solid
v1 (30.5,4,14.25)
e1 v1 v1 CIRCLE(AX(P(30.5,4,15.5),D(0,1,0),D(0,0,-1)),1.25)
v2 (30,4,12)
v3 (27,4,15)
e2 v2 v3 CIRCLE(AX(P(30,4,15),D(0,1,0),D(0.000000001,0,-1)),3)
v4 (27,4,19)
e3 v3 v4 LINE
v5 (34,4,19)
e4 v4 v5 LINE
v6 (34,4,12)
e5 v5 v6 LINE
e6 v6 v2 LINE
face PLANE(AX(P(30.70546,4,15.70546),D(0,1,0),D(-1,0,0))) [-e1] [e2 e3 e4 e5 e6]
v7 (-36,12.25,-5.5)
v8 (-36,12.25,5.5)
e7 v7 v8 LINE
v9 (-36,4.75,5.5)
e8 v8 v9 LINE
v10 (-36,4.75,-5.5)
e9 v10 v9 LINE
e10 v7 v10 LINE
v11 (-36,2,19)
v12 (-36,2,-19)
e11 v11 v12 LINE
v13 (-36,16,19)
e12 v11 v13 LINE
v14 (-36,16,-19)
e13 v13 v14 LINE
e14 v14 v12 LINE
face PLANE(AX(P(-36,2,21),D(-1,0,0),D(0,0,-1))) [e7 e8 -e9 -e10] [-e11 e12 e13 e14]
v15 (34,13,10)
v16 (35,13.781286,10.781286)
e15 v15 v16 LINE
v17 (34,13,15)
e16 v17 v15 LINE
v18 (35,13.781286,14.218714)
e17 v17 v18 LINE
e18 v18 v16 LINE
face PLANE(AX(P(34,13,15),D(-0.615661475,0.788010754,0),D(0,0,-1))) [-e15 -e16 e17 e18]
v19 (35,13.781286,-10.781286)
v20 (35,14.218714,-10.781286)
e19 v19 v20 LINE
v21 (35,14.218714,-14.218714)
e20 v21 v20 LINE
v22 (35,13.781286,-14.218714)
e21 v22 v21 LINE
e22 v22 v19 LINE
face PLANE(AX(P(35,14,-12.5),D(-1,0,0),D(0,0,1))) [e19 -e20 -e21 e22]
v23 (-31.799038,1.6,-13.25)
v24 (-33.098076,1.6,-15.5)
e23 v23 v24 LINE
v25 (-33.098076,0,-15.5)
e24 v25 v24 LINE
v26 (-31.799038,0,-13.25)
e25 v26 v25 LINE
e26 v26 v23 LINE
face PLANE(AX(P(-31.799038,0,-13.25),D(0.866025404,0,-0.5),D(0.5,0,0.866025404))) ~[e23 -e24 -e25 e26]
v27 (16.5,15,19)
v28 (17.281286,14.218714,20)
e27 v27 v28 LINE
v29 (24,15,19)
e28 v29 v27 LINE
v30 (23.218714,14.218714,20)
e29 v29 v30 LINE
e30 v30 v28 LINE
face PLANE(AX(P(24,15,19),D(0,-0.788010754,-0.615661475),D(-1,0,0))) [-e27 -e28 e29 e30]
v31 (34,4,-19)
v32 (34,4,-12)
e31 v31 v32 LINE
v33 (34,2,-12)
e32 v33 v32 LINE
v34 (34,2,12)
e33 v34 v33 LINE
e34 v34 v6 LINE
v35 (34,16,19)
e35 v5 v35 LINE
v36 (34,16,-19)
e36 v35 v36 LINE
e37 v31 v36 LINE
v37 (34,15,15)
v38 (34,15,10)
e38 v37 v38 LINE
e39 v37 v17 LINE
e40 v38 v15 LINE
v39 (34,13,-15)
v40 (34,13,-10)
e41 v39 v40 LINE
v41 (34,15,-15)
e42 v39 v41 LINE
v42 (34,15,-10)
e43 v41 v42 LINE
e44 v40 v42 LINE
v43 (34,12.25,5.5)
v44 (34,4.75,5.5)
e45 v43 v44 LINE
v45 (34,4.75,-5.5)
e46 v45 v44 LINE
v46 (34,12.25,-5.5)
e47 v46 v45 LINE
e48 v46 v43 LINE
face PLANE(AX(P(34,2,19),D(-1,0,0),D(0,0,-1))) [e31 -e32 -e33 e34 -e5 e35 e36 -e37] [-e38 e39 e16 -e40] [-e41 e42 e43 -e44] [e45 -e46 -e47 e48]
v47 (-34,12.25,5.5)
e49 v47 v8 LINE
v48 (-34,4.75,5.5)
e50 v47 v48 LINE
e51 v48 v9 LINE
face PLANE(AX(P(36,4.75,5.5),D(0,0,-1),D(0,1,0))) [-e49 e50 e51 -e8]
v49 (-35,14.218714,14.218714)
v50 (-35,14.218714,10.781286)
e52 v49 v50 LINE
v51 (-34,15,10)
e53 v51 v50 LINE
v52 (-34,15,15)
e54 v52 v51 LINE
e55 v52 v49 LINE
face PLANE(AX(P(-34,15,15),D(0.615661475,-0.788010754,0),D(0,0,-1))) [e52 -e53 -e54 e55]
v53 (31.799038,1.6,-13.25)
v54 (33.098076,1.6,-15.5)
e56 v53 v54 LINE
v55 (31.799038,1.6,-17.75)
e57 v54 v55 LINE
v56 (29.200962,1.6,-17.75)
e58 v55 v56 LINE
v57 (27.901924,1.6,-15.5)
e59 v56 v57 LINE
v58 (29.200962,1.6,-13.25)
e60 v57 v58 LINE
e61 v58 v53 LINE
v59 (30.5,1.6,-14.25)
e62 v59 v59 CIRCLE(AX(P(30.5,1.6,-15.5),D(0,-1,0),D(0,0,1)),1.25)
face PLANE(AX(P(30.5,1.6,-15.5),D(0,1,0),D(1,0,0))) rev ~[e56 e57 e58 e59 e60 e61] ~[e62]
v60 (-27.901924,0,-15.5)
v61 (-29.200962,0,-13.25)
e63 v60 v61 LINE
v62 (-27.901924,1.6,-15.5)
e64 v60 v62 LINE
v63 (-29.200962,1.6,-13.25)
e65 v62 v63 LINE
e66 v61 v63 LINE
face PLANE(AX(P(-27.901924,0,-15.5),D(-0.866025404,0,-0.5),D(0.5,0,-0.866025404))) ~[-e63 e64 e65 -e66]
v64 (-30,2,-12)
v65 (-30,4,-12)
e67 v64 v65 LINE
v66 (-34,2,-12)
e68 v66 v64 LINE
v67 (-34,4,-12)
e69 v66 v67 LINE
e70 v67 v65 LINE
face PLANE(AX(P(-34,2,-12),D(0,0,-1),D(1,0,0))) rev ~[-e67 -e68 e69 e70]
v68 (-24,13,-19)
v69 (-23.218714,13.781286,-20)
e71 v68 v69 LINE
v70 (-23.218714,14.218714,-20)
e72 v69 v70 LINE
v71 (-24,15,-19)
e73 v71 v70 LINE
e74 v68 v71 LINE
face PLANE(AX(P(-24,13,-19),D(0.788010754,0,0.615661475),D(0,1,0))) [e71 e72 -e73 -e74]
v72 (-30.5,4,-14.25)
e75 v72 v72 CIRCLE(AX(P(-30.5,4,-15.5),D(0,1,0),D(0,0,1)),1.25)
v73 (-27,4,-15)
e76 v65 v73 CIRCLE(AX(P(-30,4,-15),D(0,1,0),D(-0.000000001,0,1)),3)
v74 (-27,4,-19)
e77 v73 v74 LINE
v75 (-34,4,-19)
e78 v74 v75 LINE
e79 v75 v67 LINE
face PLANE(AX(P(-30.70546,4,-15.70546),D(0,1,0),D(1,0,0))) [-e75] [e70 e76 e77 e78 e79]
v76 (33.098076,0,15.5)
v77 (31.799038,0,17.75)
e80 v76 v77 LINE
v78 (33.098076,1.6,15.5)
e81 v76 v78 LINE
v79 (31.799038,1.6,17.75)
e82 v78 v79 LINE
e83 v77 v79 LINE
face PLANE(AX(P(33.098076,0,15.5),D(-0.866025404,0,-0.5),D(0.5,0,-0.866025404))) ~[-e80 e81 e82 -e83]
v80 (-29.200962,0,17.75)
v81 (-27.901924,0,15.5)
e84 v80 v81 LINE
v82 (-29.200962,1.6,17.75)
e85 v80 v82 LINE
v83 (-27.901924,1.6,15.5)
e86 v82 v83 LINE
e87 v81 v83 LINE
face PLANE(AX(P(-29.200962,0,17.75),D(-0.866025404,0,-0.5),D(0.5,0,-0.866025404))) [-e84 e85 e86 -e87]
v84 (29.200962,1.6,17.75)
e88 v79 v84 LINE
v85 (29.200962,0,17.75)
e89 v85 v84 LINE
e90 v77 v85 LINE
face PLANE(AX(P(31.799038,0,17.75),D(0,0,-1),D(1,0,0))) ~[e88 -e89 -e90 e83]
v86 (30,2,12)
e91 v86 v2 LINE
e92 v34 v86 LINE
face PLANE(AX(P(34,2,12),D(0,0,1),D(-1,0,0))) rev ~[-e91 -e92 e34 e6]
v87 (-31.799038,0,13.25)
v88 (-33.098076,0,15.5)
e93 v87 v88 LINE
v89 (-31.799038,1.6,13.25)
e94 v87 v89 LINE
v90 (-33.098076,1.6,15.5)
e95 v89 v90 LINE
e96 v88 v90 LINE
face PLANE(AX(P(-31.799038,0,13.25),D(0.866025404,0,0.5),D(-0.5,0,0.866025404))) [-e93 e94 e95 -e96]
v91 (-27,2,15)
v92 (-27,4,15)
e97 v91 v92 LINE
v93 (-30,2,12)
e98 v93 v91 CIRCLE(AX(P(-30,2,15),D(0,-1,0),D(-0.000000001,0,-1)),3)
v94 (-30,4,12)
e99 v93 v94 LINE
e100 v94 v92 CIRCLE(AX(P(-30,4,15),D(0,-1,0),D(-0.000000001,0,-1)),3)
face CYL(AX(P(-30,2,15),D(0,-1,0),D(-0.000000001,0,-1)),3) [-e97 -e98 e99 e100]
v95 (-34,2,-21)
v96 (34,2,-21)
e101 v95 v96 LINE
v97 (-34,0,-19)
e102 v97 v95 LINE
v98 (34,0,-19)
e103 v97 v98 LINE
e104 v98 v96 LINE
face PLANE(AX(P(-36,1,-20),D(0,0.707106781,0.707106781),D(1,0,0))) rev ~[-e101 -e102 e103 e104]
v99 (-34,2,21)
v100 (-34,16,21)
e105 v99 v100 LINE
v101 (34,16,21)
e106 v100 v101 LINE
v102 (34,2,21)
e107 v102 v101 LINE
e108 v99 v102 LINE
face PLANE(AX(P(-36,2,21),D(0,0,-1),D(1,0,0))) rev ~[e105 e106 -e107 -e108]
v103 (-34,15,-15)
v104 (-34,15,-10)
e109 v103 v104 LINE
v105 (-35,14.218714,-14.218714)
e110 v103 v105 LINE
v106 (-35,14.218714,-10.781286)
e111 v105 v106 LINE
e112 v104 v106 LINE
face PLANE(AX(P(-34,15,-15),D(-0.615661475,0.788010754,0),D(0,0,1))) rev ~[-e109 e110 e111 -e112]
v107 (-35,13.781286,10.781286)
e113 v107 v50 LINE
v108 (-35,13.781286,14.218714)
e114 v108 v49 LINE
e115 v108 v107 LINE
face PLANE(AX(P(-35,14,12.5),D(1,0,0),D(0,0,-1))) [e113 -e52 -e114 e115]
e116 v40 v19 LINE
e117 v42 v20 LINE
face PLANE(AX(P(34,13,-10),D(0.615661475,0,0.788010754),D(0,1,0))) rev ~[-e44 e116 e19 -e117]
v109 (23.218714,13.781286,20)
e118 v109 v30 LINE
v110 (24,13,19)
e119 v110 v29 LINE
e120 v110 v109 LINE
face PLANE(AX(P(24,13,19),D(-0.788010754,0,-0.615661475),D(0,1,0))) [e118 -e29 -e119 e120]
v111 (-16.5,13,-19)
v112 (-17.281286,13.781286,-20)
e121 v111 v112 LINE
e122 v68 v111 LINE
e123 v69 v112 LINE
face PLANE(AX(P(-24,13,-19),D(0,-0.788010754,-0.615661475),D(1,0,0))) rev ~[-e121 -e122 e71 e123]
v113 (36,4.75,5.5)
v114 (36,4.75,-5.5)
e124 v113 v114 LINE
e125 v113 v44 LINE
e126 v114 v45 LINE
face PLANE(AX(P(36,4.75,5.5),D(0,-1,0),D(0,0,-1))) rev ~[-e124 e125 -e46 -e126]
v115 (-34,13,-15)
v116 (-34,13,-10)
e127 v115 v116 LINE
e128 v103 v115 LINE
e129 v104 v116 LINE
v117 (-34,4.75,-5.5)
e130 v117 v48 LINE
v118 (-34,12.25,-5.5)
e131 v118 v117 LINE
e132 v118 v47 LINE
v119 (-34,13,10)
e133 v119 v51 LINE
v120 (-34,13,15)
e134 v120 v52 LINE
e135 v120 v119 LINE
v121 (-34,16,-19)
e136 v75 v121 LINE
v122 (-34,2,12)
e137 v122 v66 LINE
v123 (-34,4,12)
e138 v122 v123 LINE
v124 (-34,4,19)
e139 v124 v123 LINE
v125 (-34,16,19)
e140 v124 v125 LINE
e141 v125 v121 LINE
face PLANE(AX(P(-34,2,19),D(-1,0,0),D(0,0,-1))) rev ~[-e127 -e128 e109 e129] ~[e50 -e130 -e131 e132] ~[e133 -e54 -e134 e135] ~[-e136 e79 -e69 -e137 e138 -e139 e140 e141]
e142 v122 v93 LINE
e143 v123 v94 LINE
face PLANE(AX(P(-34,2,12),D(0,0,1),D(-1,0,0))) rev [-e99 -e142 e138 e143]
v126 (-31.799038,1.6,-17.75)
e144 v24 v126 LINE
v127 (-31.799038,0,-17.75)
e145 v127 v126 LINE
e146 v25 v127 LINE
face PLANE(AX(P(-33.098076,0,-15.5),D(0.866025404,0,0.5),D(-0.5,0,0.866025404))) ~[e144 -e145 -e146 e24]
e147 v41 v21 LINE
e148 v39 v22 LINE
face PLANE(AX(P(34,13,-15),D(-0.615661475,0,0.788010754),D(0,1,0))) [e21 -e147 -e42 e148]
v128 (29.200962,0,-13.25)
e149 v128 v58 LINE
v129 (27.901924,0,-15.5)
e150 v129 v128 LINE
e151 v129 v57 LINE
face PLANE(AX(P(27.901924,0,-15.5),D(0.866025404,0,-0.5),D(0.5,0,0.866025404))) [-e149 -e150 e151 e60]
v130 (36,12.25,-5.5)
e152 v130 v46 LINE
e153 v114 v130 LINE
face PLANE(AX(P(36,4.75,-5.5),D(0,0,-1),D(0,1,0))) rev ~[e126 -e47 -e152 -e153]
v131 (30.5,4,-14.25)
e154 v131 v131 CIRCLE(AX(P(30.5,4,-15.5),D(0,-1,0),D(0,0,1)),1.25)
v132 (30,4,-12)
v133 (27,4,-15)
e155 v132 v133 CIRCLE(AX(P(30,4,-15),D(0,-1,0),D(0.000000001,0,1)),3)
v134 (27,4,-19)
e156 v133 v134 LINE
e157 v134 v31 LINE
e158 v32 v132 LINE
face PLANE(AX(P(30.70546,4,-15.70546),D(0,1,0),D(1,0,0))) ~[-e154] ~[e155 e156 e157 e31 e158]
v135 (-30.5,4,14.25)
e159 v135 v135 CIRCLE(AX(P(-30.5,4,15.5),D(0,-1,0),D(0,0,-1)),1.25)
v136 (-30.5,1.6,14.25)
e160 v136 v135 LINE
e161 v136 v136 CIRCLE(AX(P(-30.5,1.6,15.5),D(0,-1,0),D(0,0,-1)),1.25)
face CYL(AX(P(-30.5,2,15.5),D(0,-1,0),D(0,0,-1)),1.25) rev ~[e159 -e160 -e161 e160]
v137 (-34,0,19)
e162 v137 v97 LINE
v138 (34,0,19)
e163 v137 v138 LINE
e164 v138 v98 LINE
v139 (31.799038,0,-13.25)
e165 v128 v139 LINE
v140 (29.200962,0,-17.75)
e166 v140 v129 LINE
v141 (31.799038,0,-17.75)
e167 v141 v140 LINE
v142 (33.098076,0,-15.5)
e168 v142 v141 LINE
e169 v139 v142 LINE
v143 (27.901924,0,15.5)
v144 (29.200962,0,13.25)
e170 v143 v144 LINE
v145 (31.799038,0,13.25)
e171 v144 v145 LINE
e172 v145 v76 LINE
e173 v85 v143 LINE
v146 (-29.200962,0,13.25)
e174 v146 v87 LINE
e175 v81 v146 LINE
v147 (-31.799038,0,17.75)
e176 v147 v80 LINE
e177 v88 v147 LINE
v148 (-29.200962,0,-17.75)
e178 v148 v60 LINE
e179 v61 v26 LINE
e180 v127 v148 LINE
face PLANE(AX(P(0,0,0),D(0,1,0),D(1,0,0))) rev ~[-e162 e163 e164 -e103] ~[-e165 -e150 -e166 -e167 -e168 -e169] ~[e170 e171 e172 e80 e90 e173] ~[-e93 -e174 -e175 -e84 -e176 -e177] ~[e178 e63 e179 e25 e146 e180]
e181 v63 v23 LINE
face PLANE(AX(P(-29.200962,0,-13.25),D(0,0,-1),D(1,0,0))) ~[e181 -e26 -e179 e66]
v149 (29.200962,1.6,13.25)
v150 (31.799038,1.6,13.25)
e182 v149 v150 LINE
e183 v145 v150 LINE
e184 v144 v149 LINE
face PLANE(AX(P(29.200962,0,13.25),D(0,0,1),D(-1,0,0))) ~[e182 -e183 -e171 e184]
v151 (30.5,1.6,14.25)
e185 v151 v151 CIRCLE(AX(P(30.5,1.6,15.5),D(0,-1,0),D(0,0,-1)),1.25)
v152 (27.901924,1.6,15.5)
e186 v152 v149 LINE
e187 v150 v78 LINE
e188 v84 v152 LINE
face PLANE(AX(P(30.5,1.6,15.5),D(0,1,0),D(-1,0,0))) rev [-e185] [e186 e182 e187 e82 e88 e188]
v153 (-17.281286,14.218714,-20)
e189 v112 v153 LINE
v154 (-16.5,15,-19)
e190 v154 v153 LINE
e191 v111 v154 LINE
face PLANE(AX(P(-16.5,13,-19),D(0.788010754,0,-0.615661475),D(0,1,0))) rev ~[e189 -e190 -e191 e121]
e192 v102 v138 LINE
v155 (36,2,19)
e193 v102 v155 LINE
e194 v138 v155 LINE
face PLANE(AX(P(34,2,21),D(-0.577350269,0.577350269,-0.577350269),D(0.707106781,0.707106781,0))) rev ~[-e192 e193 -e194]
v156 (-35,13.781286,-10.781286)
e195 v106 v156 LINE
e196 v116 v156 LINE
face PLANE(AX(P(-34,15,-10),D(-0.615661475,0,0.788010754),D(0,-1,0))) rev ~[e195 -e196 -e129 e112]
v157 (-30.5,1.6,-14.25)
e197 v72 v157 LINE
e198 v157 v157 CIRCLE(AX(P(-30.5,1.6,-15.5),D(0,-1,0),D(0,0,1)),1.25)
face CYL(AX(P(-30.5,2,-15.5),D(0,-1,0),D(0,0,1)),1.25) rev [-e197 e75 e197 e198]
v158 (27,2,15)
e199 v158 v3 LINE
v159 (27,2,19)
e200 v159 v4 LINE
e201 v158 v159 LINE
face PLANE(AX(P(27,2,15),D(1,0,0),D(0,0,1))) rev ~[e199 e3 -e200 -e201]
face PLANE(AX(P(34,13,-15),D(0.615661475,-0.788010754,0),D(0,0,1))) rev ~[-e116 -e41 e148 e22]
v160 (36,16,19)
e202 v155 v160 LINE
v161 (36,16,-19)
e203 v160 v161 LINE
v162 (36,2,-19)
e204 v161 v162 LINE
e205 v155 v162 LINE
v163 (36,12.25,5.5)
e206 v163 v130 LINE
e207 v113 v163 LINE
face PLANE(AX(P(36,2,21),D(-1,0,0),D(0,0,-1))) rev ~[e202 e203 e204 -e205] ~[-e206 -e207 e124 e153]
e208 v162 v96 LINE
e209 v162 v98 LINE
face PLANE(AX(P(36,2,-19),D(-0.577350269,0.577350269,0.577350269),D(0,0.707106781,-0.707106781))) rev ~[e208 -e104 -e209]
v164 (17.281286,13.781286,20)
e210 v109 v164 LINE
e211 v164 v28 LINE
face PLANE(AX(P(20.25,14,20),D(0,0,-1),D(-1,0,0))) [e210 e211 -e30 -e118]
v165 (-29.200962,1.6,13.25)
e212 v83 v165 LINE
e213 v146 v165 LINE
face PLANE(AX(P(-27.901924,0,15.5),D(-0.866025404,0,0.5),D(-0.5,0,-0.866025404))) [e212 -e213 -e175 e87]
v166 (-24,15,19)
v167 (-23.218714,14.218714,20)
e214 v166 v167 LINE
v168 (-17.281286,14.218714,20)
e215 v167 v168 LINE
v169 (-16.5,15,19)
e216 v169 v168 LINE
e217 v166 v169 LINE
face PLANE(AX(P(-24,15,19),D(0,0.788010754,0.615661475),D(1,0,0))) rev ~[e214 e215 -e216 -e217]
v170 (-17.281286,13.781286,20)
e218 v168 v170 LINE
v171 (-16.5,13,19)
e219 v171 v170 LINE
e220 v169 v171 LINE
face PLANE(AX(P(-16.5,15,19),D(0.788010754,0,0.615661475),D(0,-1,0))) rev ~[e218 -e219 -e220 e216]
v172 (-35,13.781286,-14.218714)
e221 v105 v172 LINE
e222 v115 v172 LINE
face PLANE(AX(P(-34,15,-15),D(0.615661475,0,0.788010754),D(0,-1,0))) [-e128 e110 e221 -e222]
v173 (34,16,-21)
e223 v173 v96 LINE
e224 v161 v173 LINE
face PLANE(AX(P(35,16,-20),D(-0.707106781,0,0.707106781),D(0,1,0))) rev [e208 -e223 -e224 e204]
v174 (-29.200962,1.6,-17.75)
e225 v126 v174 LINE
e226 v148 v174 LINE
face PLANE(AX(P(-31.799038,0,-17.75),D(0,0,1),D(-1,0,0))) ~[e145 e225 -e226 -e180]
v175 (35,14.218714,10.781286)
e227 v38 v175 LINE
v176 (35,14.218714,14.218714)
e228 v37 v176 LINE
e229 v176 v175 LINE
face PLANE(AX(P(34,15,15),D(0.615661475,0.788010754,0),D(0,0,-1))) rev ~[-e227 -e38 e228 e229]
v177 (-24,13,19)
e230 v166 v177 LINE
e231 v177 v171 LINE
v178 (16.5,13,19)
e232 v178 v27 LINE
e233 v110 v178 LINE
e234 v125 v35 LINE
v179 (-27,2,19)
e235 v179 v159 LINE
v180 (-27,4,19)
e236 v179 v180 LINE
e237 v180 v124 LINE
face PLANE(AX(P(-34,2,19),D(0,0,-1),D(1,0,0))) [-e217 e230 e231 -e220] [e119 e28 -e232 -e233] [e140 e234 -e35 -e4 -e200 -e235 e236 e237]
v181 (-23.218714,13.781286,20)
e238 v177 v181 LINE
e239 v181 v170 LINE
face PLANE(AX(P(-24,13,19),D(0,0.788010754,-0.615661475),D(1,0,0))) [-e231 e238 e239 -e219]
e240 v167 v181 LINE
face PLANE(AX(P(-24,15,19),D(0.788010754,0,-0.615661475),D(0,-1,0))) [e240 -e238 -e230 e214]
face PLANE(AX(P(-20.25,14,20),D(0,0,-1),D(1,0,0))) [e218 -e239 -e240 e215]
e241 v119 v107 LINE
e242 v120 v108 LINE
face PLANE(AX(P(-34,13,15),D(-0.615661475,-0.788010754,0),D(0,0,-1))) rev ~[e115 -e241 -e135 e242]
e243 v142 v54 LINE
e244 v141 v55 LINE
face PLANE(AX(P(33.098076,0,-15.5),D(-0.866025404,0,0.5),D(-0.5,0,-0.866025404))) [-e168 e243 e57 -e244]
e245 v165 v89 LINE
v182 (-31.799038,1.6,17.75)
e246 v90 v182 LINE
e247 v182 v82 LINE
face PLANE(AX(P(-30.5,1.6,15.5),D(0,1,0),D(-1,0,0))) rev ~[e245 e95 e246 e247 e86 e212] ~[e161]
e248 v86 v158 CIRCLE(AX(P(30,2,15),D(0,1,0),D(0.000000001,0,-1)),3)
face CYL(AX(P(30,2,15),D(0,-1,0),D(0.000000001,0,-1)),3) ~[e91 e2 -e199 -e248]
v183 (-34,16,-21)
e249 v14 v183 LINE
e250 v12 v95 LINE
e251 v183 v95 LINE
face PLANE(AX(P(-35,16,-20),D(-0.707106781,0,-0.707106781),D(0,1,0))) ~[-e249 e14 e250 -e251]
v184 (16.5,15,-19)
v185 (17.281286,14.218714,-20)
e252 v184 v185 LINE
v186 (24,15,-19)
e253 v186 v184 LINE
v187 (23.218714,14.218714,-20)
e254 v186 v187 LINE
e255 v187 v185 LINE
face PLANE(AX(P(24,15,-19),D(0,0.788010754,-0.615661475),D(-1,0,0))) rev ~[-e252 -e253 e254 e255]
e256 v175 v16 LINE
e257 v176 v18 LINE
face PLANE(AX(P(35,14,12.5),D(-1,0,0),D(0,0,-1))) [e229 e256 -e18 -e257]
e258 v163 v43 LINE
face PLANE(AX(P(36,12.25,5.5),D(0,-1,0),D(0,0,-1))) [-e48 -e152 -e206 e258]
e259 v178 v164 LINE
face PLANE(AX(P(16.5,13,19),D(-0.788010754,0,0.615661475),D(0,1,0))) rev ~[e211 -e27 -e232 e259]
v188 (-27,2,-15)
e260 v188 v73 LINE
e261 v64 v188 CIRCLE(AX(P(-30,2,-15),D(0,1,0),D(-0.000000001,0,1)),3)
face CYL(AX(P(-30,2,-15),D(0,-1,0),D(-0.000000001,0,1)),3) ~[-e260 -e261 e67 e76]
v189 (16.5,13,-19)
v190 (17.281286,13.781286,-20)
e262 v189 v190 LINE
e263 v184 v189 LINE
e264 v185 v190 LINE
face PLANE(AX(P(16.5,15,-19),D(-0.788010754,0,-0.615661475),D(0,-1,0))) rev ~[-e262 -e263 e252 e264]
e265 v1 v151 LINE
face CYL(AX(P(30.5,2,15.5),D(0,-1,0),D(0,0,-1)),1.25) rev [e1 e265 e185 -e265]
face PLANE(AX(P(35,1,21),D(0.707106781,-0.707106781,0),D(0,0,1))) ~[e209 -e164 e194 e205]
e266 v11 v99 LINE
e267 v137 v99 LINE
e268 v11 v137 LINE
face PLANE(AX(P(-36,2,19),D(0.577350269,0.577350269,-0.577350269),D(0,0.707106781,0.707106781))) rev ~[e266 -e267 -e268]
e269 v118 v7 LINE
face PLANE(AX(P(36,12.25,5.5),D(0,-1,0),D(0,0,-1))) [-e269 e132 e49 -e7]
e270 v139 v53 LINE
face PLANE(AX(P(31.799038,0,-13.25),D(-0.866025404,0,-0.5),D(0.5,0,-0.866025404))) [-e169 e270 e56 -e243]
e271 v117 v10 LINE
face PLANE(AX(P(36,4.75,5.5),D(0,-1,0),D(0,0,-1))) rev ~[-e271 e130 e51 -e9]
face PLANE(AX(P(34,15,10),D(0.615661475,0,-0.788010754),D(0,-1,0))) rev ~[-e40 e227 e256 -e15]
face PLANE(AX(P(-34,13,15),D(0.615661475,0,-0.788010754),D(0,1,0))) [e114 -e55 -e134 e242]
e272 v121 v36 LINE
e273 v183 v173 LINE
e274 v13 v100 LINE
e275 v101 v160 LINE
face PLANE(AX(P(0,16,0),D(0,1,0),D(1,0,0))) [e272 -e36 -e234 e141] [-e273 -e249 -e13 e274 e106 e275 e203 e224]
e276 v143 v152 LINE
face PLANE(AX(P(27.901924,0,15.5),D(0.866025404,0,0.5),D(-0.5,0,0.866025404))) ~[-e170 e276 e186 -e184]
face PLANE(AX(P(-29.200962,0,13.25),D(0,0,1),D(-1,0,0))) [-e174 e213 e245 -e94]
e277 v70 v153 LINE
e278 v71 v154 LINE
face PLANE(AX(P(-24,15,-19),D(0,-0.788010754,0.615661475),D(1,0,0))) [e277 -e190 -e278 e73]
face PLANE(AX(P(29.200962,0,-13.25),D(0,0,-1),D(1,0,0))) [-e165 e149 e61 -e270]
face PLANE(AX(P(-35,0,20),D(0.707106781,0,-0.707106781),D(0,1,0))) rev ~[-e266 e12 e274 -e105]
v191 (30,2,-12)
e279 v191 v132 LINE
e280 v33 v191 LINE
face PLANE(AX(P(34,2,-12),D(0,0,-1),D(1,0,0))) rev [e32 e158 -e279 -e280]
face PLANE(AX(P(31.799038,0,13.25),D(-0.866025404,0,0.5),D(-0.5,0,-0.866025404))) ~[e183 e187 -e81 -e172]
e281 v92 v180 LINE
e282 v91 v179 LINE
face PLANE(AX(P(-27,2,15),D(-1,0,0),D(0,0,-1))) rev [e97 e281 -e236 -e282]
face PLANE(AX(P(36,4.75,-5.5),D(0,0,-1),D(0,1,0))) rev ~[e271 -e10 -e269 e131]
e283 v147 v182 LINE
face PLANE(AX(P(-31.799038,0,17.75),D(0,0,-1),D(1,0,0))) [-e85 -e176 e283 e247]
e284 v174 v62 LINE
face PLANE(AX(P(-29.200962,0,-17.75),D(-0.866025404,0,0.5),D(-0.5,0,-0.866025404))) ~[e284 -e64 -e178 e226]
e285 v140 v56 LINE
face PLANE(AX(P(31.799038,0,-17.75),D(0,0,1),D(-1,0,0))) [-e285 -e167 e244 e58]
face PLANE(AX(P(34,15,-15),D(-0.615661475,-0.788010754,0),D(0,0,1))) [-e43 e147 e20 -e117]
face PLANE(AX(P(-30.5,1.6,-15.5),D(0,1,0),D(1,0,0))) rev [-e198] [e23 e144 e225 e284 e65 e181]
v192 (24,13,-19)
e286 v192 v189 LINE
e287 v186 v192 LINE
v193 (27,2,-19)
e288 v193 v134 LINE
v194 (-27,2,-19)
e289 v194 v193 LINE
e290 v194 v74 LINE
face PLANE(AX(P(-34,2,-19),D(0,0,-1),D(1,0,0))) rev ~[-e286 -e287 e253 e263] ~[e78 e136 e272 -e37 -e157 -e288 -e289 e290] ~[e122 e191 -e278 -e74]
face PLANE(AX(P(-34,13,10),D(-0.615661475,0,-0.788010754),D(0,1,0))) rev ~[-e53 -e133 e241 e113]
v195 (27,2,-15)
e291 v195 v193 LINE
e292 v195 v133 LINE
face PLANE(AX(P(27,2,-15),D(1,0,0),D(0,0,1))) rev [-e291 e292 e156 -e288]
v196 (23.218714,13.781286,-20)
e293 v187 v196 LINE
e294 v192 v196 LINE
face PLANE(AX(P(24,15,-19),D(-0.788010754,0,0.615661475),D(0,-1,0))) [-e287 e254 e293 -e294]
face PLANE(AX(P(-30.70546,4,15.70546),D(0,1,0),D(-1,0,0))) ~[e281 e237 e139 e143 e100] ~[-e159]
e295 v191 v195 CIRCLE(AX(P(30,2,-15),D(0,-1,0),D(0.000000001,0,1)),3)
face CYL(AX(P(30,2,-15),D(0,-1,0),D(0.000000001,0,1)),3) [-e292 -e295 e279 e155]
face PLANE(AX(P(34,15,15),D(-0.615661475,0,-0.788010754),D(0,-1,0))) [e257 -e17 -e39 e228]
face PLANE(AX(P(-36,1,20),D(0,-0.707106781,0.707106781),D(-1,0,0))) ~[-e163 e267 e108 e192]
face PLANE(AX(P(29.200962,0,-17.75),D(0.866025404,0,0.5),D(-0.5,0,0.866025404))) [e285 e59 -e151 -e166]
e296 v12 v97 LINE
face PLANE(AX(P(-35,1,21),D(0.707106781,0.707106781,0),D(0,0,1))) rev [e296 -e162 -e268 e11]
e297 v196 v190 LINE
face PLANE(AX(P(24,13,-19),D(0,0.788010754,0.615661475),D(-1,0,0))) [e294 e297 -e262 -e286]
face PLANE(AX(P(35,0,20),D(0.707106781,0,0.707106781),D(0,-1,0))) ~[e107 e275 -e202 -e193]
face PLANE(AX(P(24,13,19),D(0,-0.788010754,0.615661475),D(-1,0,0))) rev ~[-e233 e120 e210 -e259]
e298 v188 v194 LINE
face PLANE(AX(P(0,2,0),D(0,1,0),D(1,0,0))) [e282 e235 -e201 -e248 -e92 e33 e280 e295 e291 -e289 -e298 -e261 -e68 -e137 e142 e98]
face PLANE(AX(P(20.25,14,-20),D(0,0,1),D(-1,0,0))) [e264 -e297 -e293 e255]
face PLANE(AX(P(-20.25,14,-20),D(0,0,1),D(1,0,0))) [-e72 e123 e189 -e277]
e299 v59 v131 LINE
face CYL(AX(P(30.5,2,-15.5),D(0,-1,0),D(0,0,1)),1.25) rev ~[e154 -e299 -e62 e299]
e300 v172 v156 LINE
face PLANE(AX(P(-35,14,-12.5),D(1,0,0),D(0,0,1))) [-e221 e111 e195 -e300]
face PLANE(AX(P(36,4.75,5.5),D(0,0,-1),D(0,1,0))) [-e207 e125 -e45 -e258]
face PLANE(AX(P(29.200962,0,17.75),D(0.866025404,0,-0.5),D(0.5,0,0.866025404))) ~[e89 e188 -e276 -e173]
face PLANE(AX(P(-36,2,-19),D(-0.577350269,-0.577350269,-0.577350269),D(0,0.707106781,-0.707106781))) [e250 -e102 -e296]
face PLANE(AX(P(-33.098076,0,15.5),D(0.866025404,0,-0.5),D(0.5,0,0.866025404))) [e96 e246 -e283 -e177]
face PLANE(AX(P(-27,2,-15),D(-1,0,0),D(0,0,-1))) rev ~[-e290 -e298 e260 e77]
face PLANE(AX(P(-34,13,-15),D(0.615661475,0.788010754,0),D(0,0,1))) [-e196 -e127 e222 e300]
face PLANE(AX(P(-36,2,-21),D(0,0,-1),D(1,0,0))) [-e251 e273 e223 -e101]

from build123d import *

# Parameters (mm, degrees)
SKETCH1_W               = 72
SKETCH1_H               = 42
SKETCH1_W_2             = 68
SKETCH1_H_2             = 38
BOSS_EXTRUDE1_DEPTH     = 2
BOSS_EXTRUDE2_START     = 2
SKETCH1_3_W             = 72
SKETCH1_3_H             = 42
SKETCH1_3_W_2           = 68
SKETCH1_3_H_2           = 38
BOSS_EXTRUDE2_DEPTH     = 14
CHAMFER1_SIZE           = 2
SKETCH2_R               = 1.25
BOSS_EXTRUDE3_DEPTH     = 2
MIRROR2_COPY_1_SKETCH_R = 1.25
MIRROR2_COPY_1_DEPTH    = 2
CUT_EXTRUDE1_DEPTH      = 1.6
MIRROR4_COPY_1_DEPTH    = 1.6
CUT_EXTRUDE2_DEPTH      = 44.965895874
CUT_EXTRUDE2_DEPTH_BACK = 44.965895874
SKETCH4_R               = 1.25
SKETCH5_W               = 7.5
SKETCH5_H               = 2
CUT_EXTRUDE3_DEPTH      = 1
CUT_EXTRUDE3_DRAFT      = -38
MIRROR5_COPY_1_SKETCH_W = 7.5
MIRROR5_COPY_1_SKETCH_H = 2
MIRROR5_COPY_1_DEPTH    = 1
MIRROR5_COPY_1_DRAFT    = -38
MIRROR8_COPY_1_SKETCH_W = 7.5
MIRROR8_COPY_1_SKETCH_H = 2
MIRROR8_COPY_1_DEPTH    = 1
MIRROR8_COPY_1_DRAFT    = -38
MIRROR8_COPY_2_SKETCH_W = 7.5
MIRROR8_COPY_2_SKETCH_H = 2
MIRROR8_COPY_2_DEPTH    = 1
MIRROR8_COPY_2_DRAFT    = -38
SKETCH6_W               = 5
SKETCH6_H               = 2
CUT_EXTRUDE4_DEPTH      = 1
CUT_EXTRUDE4_DRAFT      = -38
MIRROR6_COPY_1_SKETCH_W = 5
MIRROR6_COPY_1_SKETCH_H = 2
MIRROR6_COPY_1_DEPTH    = 1
MIRROR6_COPY_1_DRAFT    = -38
MIRROR7_COPY_1_SKETCH_W = 5
MIRROR7_COPY_1_SKETCH_H = 2
MIRROR7_COPY_1_DEPTH    = 1
MIRROR7_COPY_1_DRAFT    = -38
MIRROR7_COPY_2_SKETCH_W = 5
MIRROR7_COPY_2_SKETCH_H = 2
MIRROR7_COPY_2_DEPTH    = 1
MIRROR7_COPY_2_DRAFT    = -38
SKETCH7_W               = 11
SKETCH7_H               = 7.5
CUT_EXTRUDE5_DEPTH      = 77.68767828


with BuildPart() as part:
    # Sketch1 → Boss-Extrude1 (new body)
    # profile 1 of 2: a face of its own
    with BuildSketch(Plane(origin=(0, 0, 0), x_dir=(1, 0, 0), z_dir=(0, 1, 0))):
        Rectangle(SKETCH1_W, SKETCH1_H)
        Rectangle(SKETCH1_W_2, SKETCH1_H_2, mode=Mode.SUBTRACT)
    # profile 2 of 2: a face of its own
    with BuildSketch(Plane(origin=(0, 0, 0), x_dir=(1, 0, 0), z_dir=(0, 1, 0))):
        Rectangle(SKETCH1_W_2, SKETCH1_H_2)
    extrude(amount=BOSS_EXTRUDE1_DEPTH)

    # Sketch1<3> → Boss-Extrude2 (add)
    with BuildSketch(Plane(origin=(0, 0, 0), x_dir=(1, 0, 0), z_dir=(0, 1, 0)).offset(BOSS_EXTRUDE2_START)):
        Rectangle(SKETCH1_3_W, SKETCH1_3_H)
        Rectangle(SKETCH1_3_W_2, SKETCH1_3_H_2, mode=Mode.SUBTRACT)
    extrude(amount=BOSS_EXTRUDE2_DEPTH)

    # Chamfer1
    chamfer1_edges = [part.edges().sort_by_distance(p)[0] for p in [
        (0, 0, -21),
        (36, 0, 0),
        (0, 0, 21),
        (-36, 0, 0),
        (-36, 8, -21),
        (36, 8, -21),
        (36, 8, 21),
        (-36, 8, 21),
    ]]
    chamfer(chamfer1_edges, length=CHAMFER1_SIZE)

    # Sketch2 → Boss-Extrude3 (add)
    with BuildSketch(Plane(origin=(0, 2, 0), x_dir=(1, 0, 0), z_dir=(0, 1, 0))):
        with BuildLine():
            Line((-34, 12), (-30, 12))
            ThreePointArc((-30, 12), (-27.878679656, 12.878679656), (-27, 15))
            Line((-27, 15), (-27, 19))
            Line((-27, 19), (-34, 19))
            Line((-34, 19), (-34, 12))
        make_face()
        with Locations(Location((-30.5, 15.5, 0), (0, 0, 270))):
            Circle(SKETCH2_R, mode=Mode.SUBTRACT)
    boss_extrude3 = extrude(amount=BOSS_EXTRUDE3_DEPTH)

    # Mirror1: Boss-Extrude3 across plane
    add(boss_extrude3.mirror(Plane.XY))

    # Mirror2: Boss-Extrude3 across plane
    add(boss_extrude3.mirror(Plane(origin=(0, 0, 0), x_dir=(0, 0, 1), z_dir=(1, 0, 0))))

    # Mirror2 copy 1 sketch → Mirror2 copy 1 (add)
    with BuildSketch(Plane(origin=(0, 2, 0), x_dir=(-1, 0, 0), z_dir=(0, 1, 0))):
        with BuildLine():
            Line((-34, 12), (-30, 12))
            ThreePointArc((-30, 12), (-27.878679656, 12.878679656), (-27, 15))
            Line((-27, 15), (-27, 19))
            Line((-27, 19), (-34, 19))
            Line((-34, 19), (-34, 12))
        make_face()
        with Locations(Location((-30.5, 15.5, 0), (0, 0, 270))):
            Circle(MIRROR2_COPY_1_SKETCH_R, mode=Mode.SUBTRACT)
    extrude(amount=MIRROR2_COPY_1_DEPTH)

    # Sketch3 → Cut-Extrude1 (cut)
    with BuildSketch(Plane.XZ):
        Polygon((-31.799038106, 17.75), (-29.200961894, 17.75), (-27.901923789, 15.5), (-29.200961894, 13.25), (-31.799038106, 13.25), (-33.098076211, 15.5), align=None)
    cut_extrude1 = extrude(amount=-CUT_EXTRUDE1_DEPTH, mode=Mode.SUBTRACT)

    # Mirror3: Cut-Extrude1 across plane
    add(cut_extrude1.mirror(Plane.XY), mode=Mode.SUBTRACT)

    # Mirror4: Cut-Extrude1 across plane
    add(cut_extrude1.mirror(Plane(origin=(0, 0, 0), x_dir=(0, 0, 1), z_dir=(1, 0, 0))), mode=Mode.SUBTRACT)

    # Mirror4 copy 1 sketch → Mirror4 copy 1 (cut)
    with BuildSketch(Plane(origin=(0, 0, 0), x_dir=(-1, 0, 0), z_dir=(0, -1, 0))):
        Polygon((-31.799038106, 17.75), (-29.200961894, 17.75), (-27.901923789, 15.5), (-29.200961894, 13.25), (-31.799038106, 13.25), (-33.098076211, 15.5), align=None)
    extrude(amount=-MIRROR4_COPY_1_DEPTH, mode=Mode.SUBTRACT)

    # Sketch4 → Cut-Extrude2 (cut, two sides: drawn at the far end of the back side and taken through both)
    with BuildSketch(Plane(origin=(0, 2, 0), x_dir=(1, 0, 0), z_dir=(0, 1, 0)).offset(-CUT_EXTRUDE2_DEPTH_BACK)):
        with Locations(Location((30.5, -15.5, 0), (0, 0, 90))):
            Circle(SKETCH4_R)
        with Locations(Location((30.5, 15.5, 0), (0, 0, 270))):
            Circle(SKETCH4_R)
        with Locations(Location((-30.5, 15.5, 0), (0, 0, 270))):
            Circle(SKETCH4_R)
        with Locations(Location((-30.5, -15.5, 0), (0, 0, 90))):
            Circle(SKETCH4_R)
    extrude(amount=CUT_EXTRUDE2_DEPTH + CUT_EXTRUDE2_DEPTH_BACK, mode=Mode.SUBTRACT)


with BuildPart() as cut_extrude3_tool:
    # Sketch5 → Cut-Extrude3 (with draft: the straight prism first)
    with BuildSketch(Plane(origin=(0, 0, 19), x_dir=(-1, 0, 0), z_dir=(0, 0, -1))):
        with Locations((-20.25, 14)):
            Rectangle(SKETCH5_W, SKETCH5_H)
    extrude(amount=-CUT_EXTRUDE3_DEPTH)
    # Cut-Extrude3: the draft: its side faces are tilted about the plane it starts from
    cut_extrude3_sides = [cut_extrude3_tool.faces().sort_by_distance(p)[0] for p in [
        (24, 14, 19.5),
        (20.25, 13, 19.5),
        (16.5, 14, 19.5),
        (20.25, 15, 19.5),
    ]]
    draft(cut_extrude3_sides, Plane(origin=(0, 0, 19), x_dir=(-1, 0, 0), z_dir=(0, 0, -1)), CUT_EXTRUDE3_DRAFT)


with BuildPart() as part_1:
    add(part.part)

    # Cut-Extrude3: cut by cut_extrude3_tool
    add(cut_extrude3_tool.part, mode=Mode.SUBTRACT)


with BuildPart() as mirror5_copy_1_tool:
    # Mirror5 copy 1 sketch → Mirror5 copy 1 (with draft: the straight prism first)
    with BuildSketch(Plane(origin=(0, 0, -19), x_dir=(-1, 0, 0), z_dir=(0, 0, 1))):
        with Locations((-20.25, -14)):
            Rectangle(MIRROR5_COPY_1_SKETCH_W, MIRROR5_COPY_1_SKETCH_H)
    extrude(amount=-MIRROR5_COPY_1_DEPTH)
    # Mirror5 copy 1: the draft: its side faces are tilted about the plane it starts from
    mirror5_copy_1_sides = [mirror5_copy_1_tool.faces().sort_by_distance(p)[0] for p in [
        (24, 14, -19.5),
        (20.25, 13, -19.5),
        (16.5, 14, -19.5),
        (20.25, 15, -19.5),
    ]]
    draft(mirror5_copy_1_sides, Plane(origin=(0, 0, -19), x_dir=(-1, 0, 0), z_dir=(0, 0, 1)), MIRROR5_COPY_1_DRAFT)


with BuildPart() as part_2:
    add(part_1.part)

    # Mirror5 copy 1: cut by mirror5_copy_1_tool
    add(mirror5_copy_1_tool.part, mode=Mode.SUBTRACT)


with BuildPart() as mirror8_copy_1_tool:
    # Mirror8 copy 1 sketch → Mirror8 copy 1 (with draft: the straight prism first)
    with BuildSketch(Plane(origin=(0, 0, 19), x_dir=(1, 0, 0), z_dir=(0, 0, -1))):
        with Locations((-20.25, -14)):
            Rectangle(MIRROR8_COPY_1_SKETCH_W, MIRROR8_COPY_1_SKETCH_H)
    extrude(amount=-MIRROR8_COPY_1_DEPTH)
    # Mirror8 copy 1: the draft: its side faces are tilted about the plane it starts from
    mirror8_copy_1_sides = [mirror8_copy_1_tool.faces().sort_by_distance(p)[0] for p in [
        (-24, 14, 19.5),
        (-20.25, 13, 19.5),
        (-16.5, 14, 19.5),
        (-20.25, 15, 19.5),
    ]]
    draft(mirror8_copy_1_sides, Plane(origin=(0, 0, 19), x_dir=(1, 0, 0), z_dir=(0, 0, -1)), MIRROR8_COPY_1_DRAFT)


with BuildPart() as part_3:
    add(part_2.part)

    # Mirror8 copy 1: cut by mirror8_copy_1_tool
    add(mirror8_copy_1_tool.part, mode=Mode.SUBTRACT)


with BuildPart() as mirror8_copy_2_tool:
    # Mirror8 copy 2 sketch → Mirror8 copy 2 (with draft: the straight prism first)
    with BuildSketch(Plane.XY.offset(-19)):
        with Locations((-20.25, 14)):
            Rectangle(MIRROR8_COPY_2_SKETCH_W, MIRROR8_COPY_2_SKETCH_H)
    extrude(amount=-MIRROR8_COPY_2_DEPTH)
    # Mirror8 copy 2: the draft: its side faces are tilted about the plane it starts from
    mirror8_copy_2_sides = [mirror8_copy_2_tool.faces().sort_by_distance(p)[0] for p in [
        (-24, 14, -19.5),
        (-20.25, 13, -19.5),
        (-16.5, 14, -19.5),
        (-20.25, 15, -19.5),
    ]]
    draft(mirror8_copy_2_sides, Plane.XY.offset(-19), MIRROR8_COPY_2_DRAFT)


with BuildPart() as part_4:
    add(part_3.part)

    # Mirror8 copy 2: cut by mirror8_copy_2_tool
    add(mirror8_copy_2_tool.part, mode=Mode.SUBTRACT)


with BuildPart() as cut_extrude4_tool:
    # Sketch6 → Cut-Extrude4 (with draft: the straight prism first)
    with BuildSketch(Plane(origin=(-34, 0, 0), x_dir=(0, 0, -1), z_dir=(1, 0, 0))):
        with Locations((-12.5, 14)):
            Rectangle(SKETCH6_W, SKETCH6_H)
    extrude(amount=-CUT_EXTRUDE4_DEPTH)
    # Cut-Extrude4: the draft: its side faces are tilted about the plane it starts from
    cut_extrude4_sides = [cut_extrude4_tool.faces().sort_by_distance(p)[0] for p in [
        (-34.5, 14, 15),
        (-34.5, 13, 12.5),
        (-34.5, 14, 10),
        (-34.5, 15, 12.5),
    ]]
    draft(cut_extrude4_sides, Plane(origin=(-34, 0, 0), x_dir=(0, 0, -1), z_dir=(1, 0, 0)), CUT_EXTRUDE4_DRAFT)


with BuildPart() as part_5:
    add(part_4.part)

    # Cut-Extrude4: cut by cut_extrude4_tool
    add(cut_extrude4_tool.part, mode=Mode.SUBTRACT)


with BuildPart() as mirror6_copy_1_tool:
    # Mirror6 copy 1 sketch → Mirror6 copy 1 (with draft: the straight prism first)
    with BuildSketch(Plane(origin=(34, 0, 0), x_dir=(0, 0, -1), z_dir=(-1, 0, 0))):
        with Locations((-12.5, -14)):
            Rectangle(MIRROR6_COPY_1_SKETCH_W, MIRROR6_COPY_1_SKETCH_H)
    extrude(amount=-MIRROR6_COPY_1_DEPTH)
    # Mirror6 copy 1: the draft: its side faces are tilted about the plane it starts from
    mirror6_copy_1_sides = [mirror6_copy_1_tool.faces().sort_by_distance(p)[0] for p in [
        (34.5, 14, 15),
        (34.5, 13, 12.5),
        (34.5, 14, 10),
        (34.5, 15, 12.5),
    ]]
    draft(mirror6_copy_1_sides, Plane(origin=(34, 0, 0), x_dir=(0, 0, -1), z_dir=(-1, 0, 0)), MIRROR6_COPY_1_DRAFT)


with BuildPart() as part_6:
    add(part_5.part)

    # Mirror6 copy 1: cut by mirror6_copy_1_tool
    add(mirror6_copy_1_tool.part, mode=Mode.SUBTRACT)


with BuildPart() as mirror7_copy_1_tool:
    # Mirror7 copy 1 sketch → Mirror7 copy 1 (with draft: the straight prism first)
    with BuildSketch(Plane(origin=(-34, 0, 0), x_dir=(0, 0, 1), z_dir=(1, 0, 0))):
        with Locations((-12.5, -14)):
            Rectangle(MIRROR7_COPY_1_SKETCH_W, MIRROR7_COPY_1_SKETCH_H)
    extrude(amount=-MIRROR7_COPY_1_DEPTH)
    # Mirror7 copy 1: the draft: its side faces are tilted about the plane it starts from
    mirror7_copy_1_sides = [mirror7_copy_1_tool.faces().sort_by_distance(p)[0] for p in [
        (-34.5, 14, -15),
        (-34.5, 13, -12.5),
        (-34.5, 14, -10),
        (-34.5, 15, -12.5),
    ]]
    draft(mirror7_copy_1_sides, Plane(origin=(-34, 0, 0), x_dir=(0, 0, 1), z_dir=(1, 0, 0)), MIRROR7_COPY_1_DRAFT)


with BuildPart() as part_7:
    add(part_6.part)

    # Mirror7 copy 1: cut by mirror7_copy_1_tool
    add(mirror7_copy_1_tool.part, mode=Mode.SUBTRACT)


with BuildPart() as mirror7_copy_2_tool:
    # Mirror7 copy 2 sketch → Mirror7 copy 2 (with draft: the straight prism first)
    with BuildSketch(Plane.ZY.offset(-34)):
        with Locations((-12.5, 14)):
            Rectangle(MIRROR7_COPY_2_SKETCH_W, MIRROR7_COPY_2_SKETCH_H)
    extrude(amount=-MIRROR7_COPY_2_DEPTH)
    # Mirror7 copy 2: the draft: its side faces are tilted about the plane it starts from
    mirror7_copy_2_sides = [mirror7_copy_2_tool.faces().sort_by_distance(p)[0] for p in [
        (34.5, 14, -15),
        (34.5, 13, -12.5),
        (34.5, 14, -10),
        (34.5, 15, -12.5),
    ]]
    draft(mirror7_copy_2_sides, Plane.ZY.offset(-34), MIRROR7_COPY_2_DRAFT)


with BuildPart() as part_8:
    add(part_7.part)

    # Mirror7 copy 2: cut by mirror7_copy_2_tool
    add(mirror7_copy_2_tool.part, mode=Mode.SUBTRACT)

    # Sketch7 → Cut-Extrude5 (cut, through all)
    with BuildSketch(Plane(origin=(36, 0, 0), x_dir=(0, 0, -1), z_dir=(1, 0, 0))):
        with Locations((0, 8.5)):
            Rectangle(SKETCH7_W, SKETCH7_H)
    extrude(amount=-CUT_EXTRUDE5_DEPTH, mode=Mode.SUBTRACT)


solid = part_8.part
